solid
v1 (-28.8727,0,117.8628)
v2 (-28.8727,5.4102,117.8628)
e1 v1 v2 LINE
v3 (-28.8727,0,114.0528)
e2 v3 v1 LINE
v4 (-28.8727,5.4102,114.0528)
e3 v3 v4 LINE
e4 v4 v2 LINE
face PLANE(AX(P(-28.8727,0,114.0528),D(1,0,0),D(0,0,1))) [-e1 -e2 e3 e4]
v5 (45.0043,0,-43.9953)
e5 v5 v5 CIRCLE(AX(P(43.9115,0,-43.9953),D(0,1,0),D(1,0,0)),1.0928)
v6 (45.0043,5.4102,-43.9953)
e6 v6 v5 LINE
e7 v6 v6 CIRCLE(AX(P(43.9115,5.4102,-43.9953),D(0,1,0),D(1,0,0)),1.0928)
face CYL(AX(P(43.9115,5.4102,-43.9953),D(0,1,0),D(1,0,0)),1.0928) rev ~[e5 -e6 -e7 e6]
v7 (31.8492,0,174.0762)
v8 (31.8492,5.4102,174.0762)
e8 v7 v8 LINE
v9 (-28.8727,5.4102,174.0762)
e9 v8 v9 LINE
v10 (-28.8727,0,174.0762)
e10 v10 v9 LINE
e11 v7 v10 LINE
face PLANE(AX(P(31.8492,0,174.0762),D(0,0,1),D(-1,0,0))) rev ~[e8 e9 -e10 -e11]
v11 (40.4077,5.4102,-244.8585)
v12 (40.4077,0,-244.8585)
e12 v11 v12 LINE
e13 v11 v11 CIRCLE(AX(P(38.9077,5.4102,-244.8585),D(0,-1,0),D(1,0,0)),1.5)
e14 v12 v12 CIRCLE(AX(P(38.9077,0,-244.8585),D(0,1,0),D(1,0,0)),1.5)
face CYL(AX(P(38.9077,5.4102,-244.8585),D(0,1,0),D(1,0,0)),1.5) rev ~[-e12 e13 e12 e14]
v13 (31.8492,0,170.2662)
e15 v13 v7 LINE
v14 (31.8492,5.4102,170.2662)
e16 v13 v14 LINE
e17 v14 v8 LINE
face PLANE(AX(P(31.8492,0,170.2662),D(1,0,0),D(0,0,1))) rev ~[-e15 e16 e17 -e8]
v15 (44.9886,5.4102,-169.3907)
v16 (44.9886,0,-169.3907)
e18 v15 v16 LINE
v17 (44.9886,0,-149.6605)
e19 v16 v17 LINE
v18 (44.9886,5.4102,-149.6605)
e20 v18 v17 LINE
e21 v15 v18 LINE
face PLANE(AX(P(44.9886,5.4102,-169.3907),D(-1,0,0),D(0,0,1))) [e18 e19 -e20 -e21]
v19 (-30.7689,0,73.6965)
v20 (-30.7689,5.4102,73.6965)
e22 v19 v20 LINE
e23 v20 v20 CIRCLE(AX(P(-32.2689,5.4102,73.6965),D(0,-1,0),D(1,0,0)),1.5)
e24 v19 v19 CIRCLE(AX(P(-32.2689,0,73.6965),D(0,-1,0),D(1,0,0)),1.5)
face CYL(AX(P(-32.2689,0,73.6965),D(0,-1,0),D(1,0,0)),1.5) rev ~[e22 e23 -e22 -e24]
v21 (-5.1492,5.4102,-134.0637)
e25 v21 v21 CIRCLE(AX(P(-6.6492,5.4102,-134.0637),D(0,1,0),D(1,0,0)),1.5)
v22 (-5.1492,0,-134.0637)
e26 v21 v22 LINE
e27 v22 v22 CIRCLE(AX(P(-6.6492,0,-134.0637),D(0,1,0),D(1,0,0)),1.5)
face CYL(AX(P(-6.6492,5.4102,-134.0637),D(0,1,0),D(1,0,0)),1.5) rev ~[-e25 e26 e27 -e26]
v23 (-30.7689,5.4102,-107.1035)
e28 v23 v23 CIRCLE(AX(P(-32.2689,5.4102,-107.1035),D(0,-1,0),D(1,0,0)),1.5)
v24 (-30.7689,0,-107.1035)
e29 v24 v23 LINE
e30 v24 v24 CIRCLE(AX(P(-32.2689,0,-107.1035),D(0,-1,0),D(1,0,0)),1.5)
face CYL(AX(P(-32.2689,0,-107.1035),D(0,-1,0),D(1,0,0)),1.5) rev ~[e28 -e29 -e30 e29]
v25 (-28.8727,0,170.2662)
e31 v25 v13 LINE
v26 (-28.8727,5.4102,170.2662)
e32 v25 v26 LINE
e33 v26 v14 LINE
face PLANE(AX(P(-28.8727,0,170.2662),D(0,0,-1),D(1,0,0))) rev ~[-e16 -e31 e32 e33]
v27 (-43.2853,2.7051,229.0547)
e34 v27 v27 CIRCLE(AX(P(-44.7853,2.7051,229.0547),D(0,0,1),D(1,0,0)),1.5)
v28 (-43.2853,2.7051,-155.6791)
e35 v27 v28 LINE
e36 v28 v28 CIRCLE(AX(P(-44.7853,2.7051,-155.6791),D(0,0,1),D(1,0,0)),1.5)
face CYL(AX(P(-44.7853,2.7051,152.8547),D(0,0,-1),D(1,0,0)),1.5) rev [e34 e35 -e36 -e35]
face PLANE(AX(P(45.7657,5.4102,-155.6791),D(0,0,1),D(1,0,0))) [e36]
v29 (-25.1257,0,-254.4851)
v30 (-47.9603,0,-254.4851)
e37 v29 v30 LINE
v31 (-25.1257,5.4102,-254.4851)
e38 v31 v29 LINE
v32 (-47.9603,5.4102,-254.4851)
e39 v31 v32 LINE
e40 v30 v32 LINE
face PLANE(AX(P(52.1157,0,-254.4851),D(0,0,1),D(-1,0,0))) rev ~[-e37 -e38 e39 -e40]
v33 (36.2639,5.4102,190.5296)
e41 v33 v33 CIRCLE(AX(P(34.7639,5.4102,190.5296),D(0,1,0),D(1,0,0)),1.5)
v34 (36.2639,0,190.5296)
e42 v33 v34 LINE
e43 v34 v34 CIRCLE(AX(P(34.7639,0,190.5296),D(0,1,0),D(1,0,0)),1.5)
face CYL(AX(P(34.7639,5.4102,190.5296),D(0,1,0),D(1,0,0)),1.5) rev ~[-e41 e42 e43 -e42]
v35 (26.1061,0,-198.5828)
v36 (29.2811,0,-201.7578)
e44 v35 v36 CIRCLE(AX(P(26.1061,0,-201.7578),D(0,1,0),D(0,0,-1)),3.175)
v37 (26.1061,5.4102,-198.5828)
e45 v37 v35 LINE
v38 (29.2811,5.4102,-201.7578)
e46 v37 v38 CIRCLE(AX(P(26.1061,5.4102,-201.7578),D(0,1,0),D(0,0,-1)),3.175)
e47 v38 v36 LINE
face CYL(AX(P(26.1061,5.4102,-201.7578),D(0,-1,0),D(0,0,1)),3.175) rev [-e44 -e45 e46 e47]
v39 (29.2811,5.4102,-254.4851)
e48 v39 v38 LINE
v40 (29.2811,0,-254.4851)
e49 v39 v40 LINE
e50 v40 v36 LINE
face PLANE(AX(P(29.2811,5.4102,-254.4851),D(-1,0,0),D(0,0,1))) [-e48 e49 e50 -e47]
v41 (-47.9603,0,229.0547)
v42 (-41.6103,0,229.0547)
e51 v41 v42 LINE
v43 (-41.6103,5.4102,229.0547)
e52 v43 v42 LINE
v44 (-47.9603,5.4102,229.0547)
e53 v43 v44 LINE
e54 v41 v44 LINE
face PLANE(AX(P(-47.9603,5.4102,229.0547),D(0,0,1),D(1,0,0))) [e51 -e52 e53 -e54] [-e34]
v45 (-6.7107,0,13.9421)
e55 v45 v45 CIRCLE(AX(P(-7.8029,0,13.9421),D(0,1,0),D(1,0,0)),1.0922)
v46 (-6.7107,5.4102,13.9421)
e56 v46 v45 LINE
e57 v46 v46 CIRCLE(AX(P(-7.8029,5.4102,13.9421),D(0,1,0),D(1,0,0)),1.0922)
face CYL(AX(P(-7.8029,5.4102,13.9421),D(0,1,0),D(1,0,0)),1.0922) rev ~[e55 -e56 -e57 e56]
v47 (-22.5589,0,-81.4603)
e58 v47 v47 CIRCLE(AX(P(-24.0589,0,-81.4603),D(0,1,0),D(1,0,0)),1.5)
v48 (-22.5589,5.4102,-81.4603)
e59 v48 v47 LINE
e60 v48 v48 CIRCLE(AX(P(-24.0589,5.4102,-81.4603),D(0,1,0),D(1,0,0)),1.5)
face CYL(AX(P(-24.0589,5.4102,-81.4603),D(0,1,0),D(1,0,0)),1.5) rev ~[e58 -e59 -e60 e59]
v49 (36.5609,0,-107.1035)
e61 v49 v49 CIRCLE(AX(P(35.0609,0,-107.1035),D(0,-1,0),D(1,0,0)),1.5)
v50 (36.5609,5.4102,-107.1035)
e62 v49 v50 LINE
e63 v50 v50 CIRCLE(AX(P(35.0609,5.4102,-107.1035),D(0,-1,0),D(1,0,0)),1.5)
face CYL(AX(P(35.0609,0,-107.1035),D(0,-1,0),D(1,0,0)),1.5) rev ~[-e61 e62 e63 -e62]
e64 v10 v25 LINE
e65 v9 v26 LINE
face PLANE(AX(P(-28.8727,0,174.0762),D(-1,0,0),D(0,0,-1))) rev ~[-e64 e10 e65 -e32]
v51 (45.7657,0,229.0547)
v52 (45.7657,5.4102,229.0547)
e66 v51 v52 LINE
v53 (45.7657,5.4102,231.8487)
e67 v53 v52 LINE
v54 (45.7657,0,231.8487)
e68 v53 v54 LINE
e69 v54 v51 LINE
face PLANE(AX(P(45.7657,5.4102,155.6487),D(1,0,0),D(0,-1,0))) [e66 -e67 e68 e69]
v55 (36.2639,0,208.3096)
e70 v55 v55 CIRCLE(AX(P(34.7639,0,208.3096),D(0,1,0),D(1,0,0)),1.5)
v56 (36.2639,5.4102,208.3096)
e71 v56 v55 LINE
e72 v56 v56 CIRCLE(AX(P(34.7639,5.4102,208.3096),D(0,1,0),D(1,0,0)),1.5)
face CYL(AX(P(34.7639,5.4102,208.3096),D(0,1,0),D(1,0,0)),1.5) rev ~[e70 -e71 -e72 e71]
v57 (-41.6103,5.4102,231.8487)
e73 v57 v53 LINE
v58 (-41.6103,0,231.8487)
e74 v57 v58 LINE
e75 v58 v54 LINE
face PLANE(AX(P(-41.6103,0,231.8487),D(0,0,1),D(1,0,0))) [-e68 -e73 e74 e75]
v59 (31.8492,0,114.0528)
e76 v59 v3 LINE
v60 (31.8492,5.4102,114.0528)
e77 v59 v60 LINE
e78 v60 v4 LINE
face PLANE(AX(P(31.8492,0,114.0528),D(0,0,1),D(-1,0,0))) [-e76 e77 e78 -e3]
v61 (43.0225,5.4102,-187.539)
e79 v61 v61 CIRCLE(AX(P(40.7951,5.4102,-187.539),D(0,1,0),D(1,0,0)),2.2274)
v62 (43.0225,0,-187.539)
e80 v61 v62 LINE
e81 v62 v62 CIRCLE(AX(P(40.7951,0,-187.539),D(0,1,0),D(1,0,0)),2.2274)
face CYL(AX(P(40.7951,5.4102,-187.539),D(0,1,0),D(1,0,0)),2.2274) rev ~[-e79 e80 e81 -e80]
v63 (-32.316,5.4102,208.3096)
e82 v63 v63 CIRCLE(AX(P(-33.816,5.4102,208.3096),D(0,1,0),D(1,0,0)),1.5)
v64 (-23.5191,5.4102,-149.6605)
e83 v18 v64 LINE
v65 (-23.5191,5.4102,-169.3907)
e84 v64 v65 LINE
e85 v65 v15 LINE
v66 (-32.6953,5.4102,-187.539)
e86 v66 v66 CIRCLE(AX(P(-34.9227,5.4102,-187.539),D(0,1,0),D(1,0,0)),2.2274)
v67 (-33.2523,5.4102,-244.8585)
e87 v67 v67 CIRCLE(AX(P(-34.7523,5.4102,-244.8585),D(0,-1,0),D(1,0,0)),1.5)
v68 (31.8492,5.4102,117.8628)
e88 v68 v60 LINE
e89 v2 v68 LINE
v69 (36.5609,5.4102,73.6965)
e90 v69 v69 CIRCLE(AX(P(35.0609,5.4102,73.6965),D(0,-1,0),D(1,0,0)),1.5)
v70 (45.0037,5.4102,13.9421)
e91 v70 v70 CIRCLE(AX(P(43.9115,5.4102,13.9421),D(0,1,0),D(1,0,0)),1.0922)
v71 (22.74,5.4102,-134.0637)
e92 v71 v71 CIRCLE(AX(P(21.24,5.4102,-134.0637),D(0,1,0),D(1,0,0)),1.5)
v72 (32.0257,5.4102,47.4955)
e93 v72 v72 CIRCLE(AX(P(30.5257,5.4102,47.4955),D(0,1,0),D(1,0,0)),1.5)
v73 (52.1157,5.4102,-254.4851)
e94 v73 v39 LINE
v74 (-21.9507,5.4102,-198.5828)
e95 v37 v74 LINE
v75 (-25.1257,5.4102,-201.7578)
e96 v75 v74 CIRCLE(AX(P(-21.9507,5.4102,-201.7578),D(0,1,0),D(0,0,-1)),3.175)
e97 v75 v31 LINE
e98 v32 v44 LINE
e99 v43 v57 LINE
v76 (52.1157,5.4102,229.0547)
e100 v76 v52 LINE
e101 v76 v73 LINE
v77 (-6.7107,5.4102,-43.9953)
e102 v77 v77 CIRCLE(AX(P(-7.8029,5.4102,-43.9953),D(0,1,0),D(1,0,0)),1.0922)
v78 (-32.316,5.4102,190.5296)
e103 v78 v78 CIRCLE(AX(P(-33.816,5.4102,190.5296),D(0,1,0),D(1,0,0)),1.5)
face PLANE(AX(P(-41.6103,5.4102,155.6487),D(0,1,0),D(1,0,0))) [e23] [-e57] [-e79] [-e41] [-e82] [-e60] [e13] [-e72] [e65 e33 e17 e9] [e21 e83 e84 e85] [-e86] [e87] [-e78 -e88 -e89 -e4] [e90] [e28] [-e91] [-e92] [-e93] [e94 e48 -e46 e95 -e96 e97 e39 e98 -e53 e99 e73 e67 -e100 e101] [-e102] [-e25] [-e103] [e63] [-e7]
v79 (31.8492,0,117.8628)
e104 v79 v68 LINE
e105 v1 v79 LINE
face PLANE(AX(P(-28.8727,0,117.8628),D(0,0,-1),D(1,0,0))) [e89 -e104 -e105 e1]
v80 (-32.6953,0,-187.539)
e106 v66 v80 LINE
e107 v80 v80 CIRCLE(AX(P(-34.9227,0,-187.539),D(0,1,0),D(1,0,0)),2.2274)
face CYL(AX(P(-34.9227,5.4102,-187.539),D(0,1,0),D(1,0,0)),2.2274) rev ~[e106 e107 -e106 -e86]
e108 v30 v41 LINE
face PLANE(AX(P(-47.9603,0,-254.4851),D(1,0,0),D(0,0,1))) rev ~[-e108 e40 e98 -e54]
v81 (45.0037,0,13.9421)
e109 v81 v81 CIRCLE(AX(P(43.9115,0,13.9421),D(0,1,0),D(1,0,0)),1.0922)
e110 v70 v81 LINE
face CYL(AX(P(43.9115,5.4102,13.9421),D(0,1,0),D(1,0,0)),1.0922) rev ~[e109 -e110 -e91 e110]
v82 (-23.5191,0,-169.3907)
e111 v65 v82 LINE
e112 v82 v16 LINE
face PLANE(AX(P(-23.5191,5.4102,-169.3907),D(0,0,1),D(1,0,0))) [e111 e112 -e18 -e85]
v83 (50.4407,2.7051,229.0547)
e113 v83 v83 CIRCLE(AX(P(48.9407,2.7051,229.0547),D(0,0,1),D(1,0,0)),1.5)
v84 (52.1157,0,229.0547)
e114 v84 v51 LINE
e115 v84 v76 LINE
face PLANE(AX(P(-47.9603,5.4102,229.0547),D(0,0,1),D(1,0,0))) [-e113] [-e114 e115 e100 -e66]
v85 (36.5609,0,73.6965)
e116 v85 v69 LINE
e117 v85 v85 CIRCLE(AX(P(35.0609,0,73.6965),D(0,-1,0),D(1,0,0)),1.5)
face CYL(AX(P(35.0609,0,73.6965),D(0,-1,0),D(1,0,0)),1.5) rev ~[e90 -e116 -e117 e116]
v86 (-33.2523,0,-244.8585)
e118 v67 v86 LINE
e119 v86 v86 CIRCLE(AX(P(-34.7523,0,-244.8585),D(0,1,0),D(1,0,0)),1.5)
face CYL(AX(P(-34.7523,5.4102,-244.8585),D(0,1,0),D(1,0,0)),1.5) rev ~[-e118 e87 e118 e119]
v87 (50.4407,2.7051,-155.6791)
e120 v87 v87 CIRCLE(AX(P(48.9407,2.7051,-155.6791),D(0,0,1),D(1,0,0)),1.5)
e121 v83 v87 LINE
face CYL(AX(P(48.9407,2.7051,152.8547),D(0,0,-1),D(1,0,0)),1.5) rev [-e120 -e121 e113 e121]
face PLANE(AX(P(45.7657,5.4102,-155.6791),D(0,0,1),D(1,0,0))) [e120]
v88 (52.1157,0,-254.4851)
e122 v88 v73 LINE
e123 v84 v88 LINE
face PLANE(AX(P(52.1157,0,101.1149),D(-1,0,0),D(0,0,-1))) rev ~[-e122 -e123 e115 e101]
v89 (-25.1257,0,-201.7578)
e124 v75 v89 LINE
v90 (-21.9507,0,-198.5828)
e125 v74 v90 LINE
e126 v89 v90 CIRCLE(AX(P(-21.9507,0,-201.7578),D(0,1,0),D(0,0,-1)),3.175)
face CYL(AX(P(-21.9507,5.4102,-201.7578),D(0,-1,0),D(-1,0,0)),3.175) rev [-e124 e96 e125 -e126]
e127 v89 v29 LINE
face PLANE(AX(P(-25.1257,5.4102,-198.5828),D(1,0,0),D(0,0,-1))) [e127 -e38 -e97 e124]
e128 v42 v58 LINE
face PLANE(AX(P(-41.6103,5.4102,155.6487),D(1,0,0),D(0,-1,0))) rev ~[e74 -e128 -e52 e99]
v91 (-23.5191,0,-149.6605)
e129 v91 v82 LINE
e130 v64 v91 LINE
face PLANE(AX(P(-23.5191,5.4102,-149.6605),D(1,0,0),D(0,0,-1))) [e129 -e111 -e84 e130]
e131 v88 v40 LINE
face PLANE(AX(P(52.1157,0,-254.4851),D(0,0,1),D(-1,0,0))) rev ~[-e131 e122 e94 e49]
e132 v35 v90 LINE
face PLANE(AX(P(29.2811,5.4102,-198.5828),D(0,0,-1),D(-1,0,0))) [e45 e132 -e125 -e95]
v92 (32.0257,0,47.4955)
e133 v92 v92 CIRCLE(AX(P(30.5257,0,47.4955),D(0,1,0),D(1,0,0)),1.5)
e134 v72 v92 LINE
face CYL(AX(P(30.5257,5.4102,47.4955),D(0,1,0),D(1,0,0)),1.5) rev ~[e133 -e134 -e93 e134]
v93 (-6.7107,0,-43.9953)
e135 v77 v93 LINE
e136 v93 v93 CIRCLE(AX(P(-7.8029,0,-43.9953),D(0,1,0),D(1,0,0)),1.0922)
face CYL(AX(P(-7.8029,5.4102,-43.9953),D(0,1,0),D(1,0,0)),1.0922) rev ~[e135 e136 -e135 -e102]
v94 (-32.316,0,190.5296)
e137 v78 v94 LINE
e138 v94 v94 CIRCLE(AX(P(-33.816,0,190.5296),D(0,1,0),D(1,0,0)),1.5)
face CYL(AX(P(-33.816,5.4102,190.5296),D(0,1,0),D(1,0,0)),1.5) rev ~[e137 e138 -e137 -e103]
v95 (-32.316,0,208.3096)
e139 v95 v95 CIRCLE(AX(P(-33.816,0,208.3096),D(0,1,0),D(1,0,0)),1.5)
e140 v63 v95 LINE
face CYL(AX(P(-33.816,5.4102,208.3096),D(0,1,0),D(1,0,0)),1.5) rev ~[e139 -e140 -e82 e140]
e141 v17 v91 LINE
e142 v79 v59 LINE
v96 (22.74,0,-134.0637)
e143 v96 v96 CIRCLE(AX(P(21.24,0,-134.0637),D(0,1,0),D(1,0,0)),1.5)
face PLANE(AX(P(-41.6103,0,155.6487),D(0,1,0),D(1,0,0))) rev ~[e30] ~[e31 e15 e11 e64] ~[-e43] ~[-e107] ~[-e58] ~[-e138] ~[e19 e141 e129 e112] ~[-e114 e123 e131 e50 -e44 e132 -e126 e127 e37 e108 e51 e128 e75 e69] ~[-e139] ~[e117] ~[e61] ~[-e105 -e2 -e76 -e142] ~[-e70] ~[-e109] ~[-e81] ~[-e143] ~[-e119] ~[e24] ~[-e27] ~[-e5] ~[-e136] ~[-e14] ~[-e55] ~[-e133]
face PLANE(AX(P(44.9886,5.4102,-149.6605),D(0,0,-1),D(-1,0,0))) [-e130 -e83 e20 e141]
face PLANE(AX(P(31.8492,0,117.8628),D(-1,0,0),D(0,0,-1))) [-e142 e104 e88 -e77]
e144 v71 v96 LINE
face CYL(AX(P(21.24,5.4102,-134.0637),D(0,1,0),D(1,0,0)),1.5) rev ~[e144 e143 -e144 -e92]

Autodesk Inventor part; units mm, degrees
ref_plane "YZ Plane" through (0, 0, 0) normal (1, 0, 0) x (0, 1, 0)
ref_plane "XZ Plane" through (0, 0, 0) normal (0, 1, 0) x (-1, 0, 0)
ref_plane "XY Plane" through (0, 0, 0) normal (0, 0, 1) x (1, 0, 0)
sketch "Sketch1" plane through (0, 0, 0) normal (0, 1, 0) x (-1, 0, 0)
  line L0 (47.9603, 101.1149) -> (-52.1157, 101.1149)
  line L1 (-52.1157, 101.1149) -> (-52.1157, -254.4851)
  line L2 (-52.1157, -254.4851) -> (47.9603, -254.4851)
  line L3 (47.9603, -254.4851) -> (47.9603, 101.1149)
  point P0 (0, 0)
  dimension "d0" = 100.076
  dimension "d1" = 355.6
extrude "Extrusion1" add sketch "Sketch1" along normal blind 5.4102
sketch "Sketch5" plane through (0, 5.4102, 0) normal (0, 1, 0) x (1, 0, 0)
  circle A0 centre (-34.7523, 244.8585) radius 1.5
  circle A1 centre (38.9077, 244.8585) radius 1.5
  line L0 (-34.7355, 243.3586) -> (38.8909, 243.3586)
  line L1 (52.1157, 254.4851) -> (-47.9603, 254.4851) projected
  point P0 (0, 0)
  point P1 (2.0777, 243.3586)
  point P2 (2.0777, 254.4851)
  dimension "d8" = 3
  dimension "d9" = 3
  dimension "d10" = 73.66
  dimension "d11" = 9.6266
extrude "Extrusion3" cut sketch "Sketch5" against normal blind 25.4
sketch "Sketch6" plane through (0, 5.4102, 0) normal (0, 1, 0) x (1, 0, 0)
  line L0 (-47.9603, -101.1149) -> (52.1157, -101.1149) projected
  line L1 (-47.9603, -101.1149) -> (-41.6103, -101.1149)
  line L2 (-41.6103, -101.1149) -> (-41.6103, -98.3209)
  line L3 (-41.6103, -98.3209) -> (-47.9603, -98.3209)
  line L4 (-47.9603, -98.3209) -> (-47.9603, -101.1149)
  line L5 (52.1157, -101.1149) -> (45.7657, -101.1149)
  line L6 (45.7657, -101.1149) -> (45.7657, -98.3209)
  line L7 (45.7657, -98.3209) -> (52.1157, -98.3209)
  line L8 (52.1157, -98.3209) -> (52.1157, -101.1149)
  point P0 (0, 0)
  dimension "d14" = 2.794
  dimension "d15" = 6.35
  dimension "d16" = 6.35
extrude "Extrusion4" cut sketch "Sketch6" against normal blind 25.4
sketch "Sketch7" plane through (45.7657, 5.4102, 98.3209) normal (0, 0, 1) x (1, 0, 0)
  circle A0 centre (3.175, -2.7051) radius 1.5
  line L0 (0, 0) -> (6.35, 0) projected
  line L1 (6.35, 0) -> (6.35, -5.4102) projected
  circle A1 centre (-90.551, -2.7051) radius 1.5
  line L2 (-93.726, 0) -> (-87.376, 0) projected
  line L3 (-93.726, -5.4102) -> (-93.726, 0) projected
  point P0 (-45.7657, -5.4102)
  point P1 (3.175, 0)
  point P2 (6.35, -2.7051)
  point P3 (-90.551, 0)
  point P4 (-93.726, -2.7051)
  dimension "d19" = 3
  dimension "d20" = 3
extrude "Extrusion5" cut sketch "Sketch7" against normal blind 254
sketch "Sketch8" plane through (-41.6103, 0, 101.1149) normal (0, 0, 1) x (1, 0, 0)
  line L0 (0, 5.4102) -> (87.376, 5.4102) projected
  line L1 (0, 0) -> (87.376, 0) projected
  line L2 (0, 5.4102) -> (87.376, 5.4102)
  line L3 (87.376, 5.4102) -> (87.376, 0)
  line L4 (87.376, 0) -> (0, 0)
  line L5 (0, 0) -> (0, 5.4102)
  point P0 (41.6103, 0)
extrude "Extrusion6" add sketch "Sketch8" along normal blind 54.5338
sketch "Sketch9" plane through (-47.9603, 5.4102, 98.3209) normal (0, 0, 1) x (1, 0, 0)
  line L0 (6.35, 0) -> (6.35, -5.4102) projected
  line L1 (0, 0) -> (6.35, 0)
  line L2 (6.35, 0) -> (6.35, -5.4102)
  line L3 (6.35, -5.4102) -> (0, -5.4102)
  line L4 (0, -5.4102) -> (0, 0)
  line L5 (100.076, 0) -> (100.076, -5.4102) projected
  line L6 (100.076, -5.4102) -> (93.726, -5.4102) projected
  line L7 (100.076, 0) -> (93.726, 0)
  line L8 (93.726, 0) -> (93.726, -5.4102)
  line L9 (93.726, -5.4102) -> (100.076, -5.4102)
  line L10 (100.076, -5.4102) -> (100.076, 0)
  circle A0 centre (96.901, -2.7051) radius 1.5
  circle A1 centre (3.175, -2.7051) radius 1.5
  point P0 (47.9603, -5.4102)
extrude "Extrusion7" add sketch "Sketch9" along normal blind 54.5338
sketch "Sketch10" plane through (0, 5.4102, 0) normal (0, 1, 0) x (1, 0, 0)
  line L0 (-37.6261, -131.8997) -> (38.5739, -131.8997) construction
  line L1 (-37.6261, -106.4997) -> (38.5739, -106.4997) construction
  line L2 (-47.9603, 254.4851) -> (-47.9603, -152.8547) construction
  line L3 (52.1157, -152.8547) -> (52.1157, 254.4851) construction
  line L4 (45.7657, -155.6487) -> (-41.6103, -155.6487) construction
  line L5 (-37.6261, -114.1197) -> (-12.2261, -114.1197) construction
  line L6 (-12.2261, -114.1197) -> (-12.2261, -124.2797) construction
  line L7 (-12.2261, -124.2797) -> (-37.6261, -124.2797) construction
  line L8 (-37.6261, -131.8997) -> (-37.6261, -124.2797) construction
  line L9 (-37.6261, -114.1197) -> (-37.6261, -106.4997) construction
  line L10 (38.5739, -114.1197) -> (13.1739, -114.1197) construction
  line L11 (13.1739, -114.1197) -> (13.1739, -124.2797) construction
  line L12 (13.1739, -124.2797) -> (38.5739, -124.2797) construction
  line L13 (38.5739, -131.8997) -> (38.5739, -124.2797) construction
  line L14 (38.5739, -114.1197) -> (38.5739, -106.4997) construction
  circle A0 centre (34.7639, -110.3097) radius 1.5
  circle A1 centre (34.7639, -128.0897) radius 1.5
  circle A2 centre (-33.816, -127.9782) radius 1.5
  circle A3 centre (-33.816, -110.1982) radius 1.5
  point P0 (0, 0)
  point P1 (38.5739, -110.3097)
  dimension "d27" = 76.2
  dimension "d28" = 25.4
  dimension "d31" = 23.749
  dimension "d32" = 7.62
  dimension "d33" = 7.62
  dimension "d34" = 25.4
  dimension "d35" = 25.4
  dimension "d36" = 68.58
  dimension "d37" = 17.78
  dimension "d38" = 17.78
  dimension "d39" = 68.58
  dimension "d40" = 3
  dimension "d41" = 3
  dimension "d42" = 3
  dimension "d43" = 3
  dimension "d44" = 3.81
  dimension "d45" = 25.4
  dimension "d46" = 25.4
  dimension "d47" = 7.62
  dimension "d48" = 7.62
  dimension "d49" = 7.62
  dimension "d50" = 7.62
  dimension "d51" = 76.2
  dimension "d52" = 25.4
  dimension "d53" = 25.4
  dimension "d54" = 17.78
extrude "Extrusion8" cut sketch "Sketch10" against normal blind 54.5338
sketch "Sketch11" plane through (0, 5.4102, 0) normal (0, 1, 0) x (1, 0, 0)
  line L0 (-41.6103, -155.6487) -> (45.7657, -155.6487) construction
  line L1 (43.9115, -155.6487) -> (43.9115, -13.9421) construction
  line L2 (43.9115, -13.9421) -> (52.1157, -13.9421) construction
  line L3 (52.1157, -152.8547) -> (52.1157, 254.4851) construction
  circle A0 centre (43.9115, -13.9421) radius 1.0922
  circle A1 centre (-7.8029, -13.9421) radius 1.0922
  circle A2 centre (43.9115, 43.9953) radius 1.0928
  circle A3 centre (-7.8029, 43.9953) radius 1.0922
  point P0 (0, 0)
  dimension "d57" = 141.7066
  dimension "d58" = 8.2042
  dimension "d59" = 2.1844
  dimension "d60" = 2.1844
  dimension "d62" = 51.7144
  dimension "d63" = 57.9374
  dimension "d64" = 57.9374
extrude "Extrusion9" cut sketch "Sketch11" against normal blind 54.5338
sketch "Sketch12" plane through (0, 5.4102, 0) normal (0, 1, 0) x (1, 0, 0)
  circle A0 centre (43.4543, 73.8403) radius 1.5367
  line L0 (52.1157, -152.8547) -> (52.1157, 254.4851) projected
  line L1 (52.1157, -152.8547) -> (45.7657, -152.8547) projected
  line L2 (46.0959, 58.6257) -> (46.0959, 133.7589) construction
  line L3 (46.0959, 58.6257) -> (-7.3203, 58.6257) construction
  line L4 (46.0959, 133.7589) -> (44.0639, 133.7589) construction
  line L5 (44.0639, 133.7589) -> (44.0639, 136.7053) construction
  line L6 (44.0639, 136.7053) -> (6.6751, 136.7053) construction
  line L7 (6.6751, 136.7053) -> (6.6751, 133.7589) construction
  line L8 (6.6751, 133.7589) -> (-7.2949, 133.7589) construction
  line L9 (-7.3203, 58.6257) -> (-7.2949, 133.7589) construction
  circle A1 centre (38.5521, 134.0637) radius 1.5367
  circle A2 centre (10.6629, 134.0637) radius 1.5367
  point P0 (0, 0)
  dimension "d67" = 3.0734
  dimension "d68" = 8.6614
  dimension "d69" = 226.695
  dimension "d89" = 15.2146
  dimension "d90" = 2.6416
  dimension "d91" = 75.1332
  dimension "d92" = 53.4162
  dimension "d93" = 2.032
  dimension "d94" = 2.9464
  dimension "d95" = 37.3888
  dimension "d96" = 13.97
  dimension "d97" = 75.1332
  dimension "d98" = 3.0734
  dimension "d99" = 2.6416
  dimension "d100" = 3.0734
  dimension "d101" = 2.6416
  dimension "d102" = 27.8892
  dimension "d103" = 7.5438
  dimension "d104" = 60.4226
extrude "Extrusion10" cut sketch "Sketch12" against normal blind 25.4
sketch "Sketch13" plane through (0, 5.4102, 0) normal (0, 1, 0) x (1, 0, 0)
  line L0 (44.9886, 149.6605) -> (-23.5191, 149.6605)
  line L1 (-23.5191, 149.6605) -> (-23.5191, 169.3907)
  line L2 (-23.5191, 169.3907) -> (44.9886, 169.3907)
  line L3 (44.9886, 169.3907) -> (44.9886, 149.6605)
  point P0 (0, 0)
extrude "Extrusion11" cut sketch "Sketch13" against normal blind 25.4
sketch "Sketch14" plane through (0, 5.4102, 0) normal (0, 1, 0) x (1, 0, 0)
  line L0 (-39.2837, 182.0907) -> (45.1561, 182.0907) construction
  line L1 (45.1561, 182.0907) -> (45.1561, 192.9873) construction
  line L2 (45.1561, 192.9873) -> (-39.2837, 192.9873) construction
  line L3 (-39.2837, 192.9873) -> (-39.2837, 182.0907) construction
  line L4 (-23.5191, 169.3907) -> (44.9886, 169.3907) construction
  circle A0 centre (40.7951, 187.539) radius 2.2274
  circle A1 centre (-34.9227, 187.539) radius 2.2274
  line L5 (-47.9603, 254.4851) -> (-47.9603, -152.8547) construction
  line L6 (52.1157, -152.8547) -> (52.1157, 254.4851) construction
  point P0 (0, 0)
  dimension "d107" = 84.4398
  dimension "d108" = 10.8966
  dimension "d109" = 12.7
  dimension "d110" = 2.1336
  dimension "d111" = 2.1336
  dimension "d114" = 6.9596
extrude "Extrusion12" cut sketch "Sketch14" against normal blind 25.4
sketch "Sketch15" plane through (0, 5.4102, 0) normal (0, 1, 0) x (1, 0, 0)
  circle A0 centre (30.5257, -47.4955) radius 1.5
  line L0 (-47.9603, 254.4851) -> (-47.9603, -152.8547) projected
  line L1 (-41.6103, -152.8547) -> (-47.9603, -152.8547) projected
  line L2 (52.1157, -152.8547) -> (52.1157, 254.4851) projected
  circle A1 centre (-24.0589, 81.4603) radius 1.5
  point P0 (0, 0)
  dimension "d117" = 3
  dimension "d119" = 105.3592
  dimension "d120" = 21.59
  dimension "d121" = 3
  dimension "d122" = 23.9014
  dimension "d123" = 234.315
extrude "Extrusion13" cut sketch "Sketch15" against normal blind 25.4
sketch "Sketch16" plane through (0, 0, 0) normal (0, -1, 0) x (1, 0, 0)
  line L0 (38.0609, 76.6965) -> (-35.2689, 76.6965)
  line L1 (-35.2689, 76.6965) -> (-35.2689, -110.1035)
  line L2 (-35.2689, -110.1035) -> (38.0609, -110.1035)
  line L3 (38.0609, -110.1035) -> (38.0609, 76.6965)
  circle A0 centre (35.0609, 73.6965) radius 1.5
  circle A1 centre (-32.2689, 73.6965) radius 1.5
  circle A2 centre (-32.2689, -107.1035) radius 1.5
  circle A3 centre (35.0609, -107.1035) radius 1.5
  point P0 (0, 0)
  dimension "d128" = 186.8
  dimension "d129" = 73.3298
  dimension "d130" = 3
  dimension "d131" = 3
  dimension "d132" = 3
  dimension "d133" = 3
  dimension "d134" = 3
  dimension "d135" = 3
  dimension "d136" = 3
  dimension "d137" = 3
  dimension "d138" = 3
  dimension "d139" = 3
  dimension "d140" = 3
  dimension "d141" = 3
extrude "Extrusion14" cut sketch "Sketch16" against normal blind 25.4 contours A0 | A1 | A2 | A3
sketch "Sketch17" plane through (-41.6103, 0, 155.6487) normal (0, 0, 1) x (1, 0, 0)
  line L0 (0, 5.4102) -> (0, 0) projected
  line L1 (0, 0) -> (87.376, 0) projected
  line L2 (0, 5.4102) -> (87.376, 5.4102)
  line L3 (87.376, 5.4102) -> (87.376, 0)
  line L4 (87.376, 0) -> (0, 0)
  line L5 (0, 0) -> (0, 5.4102)
  point P0 (41.6103, 0)
sketch "Sketch18" plane through (-47.9603, 5.4102, 152.8547) normal (0, 0, 1) x (1, 0, 0)
  line L0 (100.076, 0) -> (0, 0) projected
  line L1 (0, -5.4102) -> (6.35, -5.4102) projected
  line L2 (0, 0) -> (6.35, 0)
  line L3 (6.35, 0) -> (6.35, -5.4102)
  line L4 (6.35, -5.4102) -> (0, -5.4102)
  line L5 (0, -5.4102) -> (0, 0)
  circle A0 centre (3.175, -2.7051) radius 1.5
  line L6 (93.726, -5.4102) -> (93.726, 0) projected
  line L7 (100.076, -5.4102) -> (100.076, 0) projected
  line L8 (93.726, 0) -> (100.076, 0)
  line L9 (100.076, 0) -> (100.076, -5.4102)
  line L10 (100.076, -5.4102) -> (93.726, -5.4102)
  line L11 (93.726, -5.4102) -> (93.726, 0)
  circle A1 centre (96.901, -2.7051) radius 1.5
  point P0 (47.9603, -5.4102)
extrude "Extrusion15" add sketch "Sketch17" along normal blind 76.2
extrude "Extrusion16" add sketch "Sketch18" along normal blind 76.2
sketch "Sketch19" plane through (0, 5.4102, 0) normal (0, 1, 0) x (1, 0, 0)
  circle A0 centre (-33.816, -127.9782) radius 1.5 projected
  circle A1 centre (-33.816, -127.9782) radius 1.5
  circle A2 centre (34.7639, -128.0897) radius 1.5 projected
  circle A3 centre (34.7639, -128.0897) radius 1.5
  circle A4 centre (-33.816, -208.3096) radius 1.5
  circle A5 centre (-33.816, -190.5296) radius 1.5
  circle A6 centre (34.7639, -190.5296) radius 1.5
  circle A7 centre (34.7639, -208.3096) radius 1.5
  point P0 (0, 0)
  dimension "d148" = 3
  dimension "d149" = 3
  dimension "d150" = 3
  dimension "d151" = 3
  dimension "d152" = 17.78
  dimension "d153" = 17.78
  dimension "d154" = 68.5799
  dimension "d155" = 68.5799
  dimension "d156" = 68.5799
extrude "Extrusion17" cut sketch "Sketch19" against normal blind 25.4 contours A4 | A5 | A6 | A7
sketch "Sketch20" plane through (0, 5.4102, 0) normal (0, 1, 0) x (1, 0, 0)
  circle A0 centre (-33.816, -127.9782) radius 1.5 projected
  circle A1 centre (-33.816, -127.9782) radius 1.5
  circle A2 centre (-33.816, -110.1982) radius 1.5 projected
  circle A3 centre (-33.816, -110.1982) radius 1.5
  circle A4 centre (34.7639, -110.3097) radius 1.5 projected
  circle A5 centre (34.7639, -110.3097) radius 1.5
  circle A6 centre (34.7639, -128.0897) radius 1.5 projected
  circle A7 centre (34.7639, -128.0897) radius 1.5
  point P0 (0, 0)
extrude "Extrusion18" add sketch "Sketch20" against normal blind 5.4102
sketch "Sketch21" plane through (0, 5.4102, 0) normal (0, 1, 0) x (1, 0, 0)
  circle A0 centre (-6.6492, 134.0637) radius 1.5
  circle A1 centre (21.24, 134.0637) radius 1.5
  circle A2 centre (10.6629, 134.0637) radius 1.5367 projected
  circle A3 centre (10.6629, 134.0637) radius 1.5367
  circle A4 centre (38.5521, 134.0637) radius 1.5367 projected
  circle A5 centre (38.5521, 134.0637) radius 1.5367
  point P0 (0, 0)
  dimension "d161" = 3
  dimension "d162" = 3
  dimension "d163" = 27.8892
  dimension "d164" = 27.8892
extrude "Extrusion19" cut sketch "Sketch21" against normal blind 5.4102 contours A0 | A1
sketch "Sketch22" plane through (0, 5.4102, 0) normal (0, 1, 0) x (1, 0, 0)
  line L0 (42.3287, 131.8326) -> (35.2249, 131.8326)
  line L1 (35.2249, 131.8326) -> (35.2249, 136.3465)
  line L2 (35.2249, 136.3465) -> (42.3287, 136.3465)
  line L3 (42.3287, 136.3465) -> (42.3287, 131.8326)
  line L4 (13.9876, 131.1666) -> (7.1058, 131.1666)
  line L5 (7.1058, 131.1666) -> (7.1058, 137.7525)
  line L6 (7.1058, 137.7525) -> (13.9876, 137.7525)
  line L7 (13.9876, 137.7525) -> (13.9876, 131.1666)
  line L8 (47.4407, -229.0547) -> (47.4407, 155.6791) projected
  line L9 (36.9122, 68.1776) -> (47.4407, 68.1776)
  line L10 (47.4407, 68.1776) -> (47.4407, 78.0252)
  line L11 (47.4407, 78.0252) -> (36.9122, 78.0252)
  line L12 (36.9122, 78.0252) -> (36.9122, 68.1776)
  point P0 (0, 0)
extrude "Extrusion20" add sketch "Sketch22" against normal blind 5.4102
sketch "Sketch23" plane through (0, 0, 0) normal (0, -1, 0) x (1, 0, 0)
  line L0 (-28.8727, 170.2662) -> (31.8492, 170.2662)
  line L1 (31.8492, 170.2662) -> (31.8492, 174.0762)
  line L2 (31.8492, 174.0762) -> (-28.8727, 174.0762)
  line L3 (-28.8727, 174.0762) -> (-28.8727, 170.2662)
  line L4 (-28.8727, 117.8628) -> (31.8492, 117.8628)
  line L5 (31.8492, 117.8628) -> (31.8492, 114.0528)
  line L6 (31.8492, 114.0528) -> (-28.8727, 114.0528)
  line L7 (-28.8727, 114.0528) -> (-28.8727, 117.8628)
  point P0 (0, 0)
  dimension "d169" = 3.81
  dimension "d170" = 3.81
extrude "Extrusion21" cut sketch "Sketch23" against normal blind 5.4102
sketch "Sketch24" plane through (0, 5.4102, 0) normal (0, 1, 0) x (1, 0, 0)
  line L0 (52.1157, 254.4851) -> (-47.9603, 254.4851) projected
  line L1 (-25.1257, 254.4851) -> (29.2811, 254.4851)
  line L2 (29.2811, 254.4851) -> (29.2811, 198.5828)
  line L3 (29.2811, 198.5828) -> (-25.1257, 198.5828)
  line L4 (-25.1257, 198.5828) -> (-25.1257, 254.4851)
  line L5 (-47.9603, 254.4851) -> (-47.9603, -229.0547) projected
  line L6 (52.1157, -229.0547) -> (52.1157, 254.4851) projected
  point P0 (0, 0)
  dimension "d173" = 22.8346
  dimension "d174" = 22.8346
extrude "Extrusion22" cut sketch "Sketch24" against normal blind 5.4102
fillet "Fillet1" radius 3.175 2 edges at (29.2811, 2.7051, -198.5828) (-25.1257, 2.7051, -198.5828)
equation "\"d9\" = d8"
equation "\"d20\" = d19"
equation "\"d60\" = d59"
equation "\"d111\" = d110"
equation "\"d121\" = d117"
equation "\"d164\" = d163"
equation "\"d170\" = d169"
properties part number "Control Board"
